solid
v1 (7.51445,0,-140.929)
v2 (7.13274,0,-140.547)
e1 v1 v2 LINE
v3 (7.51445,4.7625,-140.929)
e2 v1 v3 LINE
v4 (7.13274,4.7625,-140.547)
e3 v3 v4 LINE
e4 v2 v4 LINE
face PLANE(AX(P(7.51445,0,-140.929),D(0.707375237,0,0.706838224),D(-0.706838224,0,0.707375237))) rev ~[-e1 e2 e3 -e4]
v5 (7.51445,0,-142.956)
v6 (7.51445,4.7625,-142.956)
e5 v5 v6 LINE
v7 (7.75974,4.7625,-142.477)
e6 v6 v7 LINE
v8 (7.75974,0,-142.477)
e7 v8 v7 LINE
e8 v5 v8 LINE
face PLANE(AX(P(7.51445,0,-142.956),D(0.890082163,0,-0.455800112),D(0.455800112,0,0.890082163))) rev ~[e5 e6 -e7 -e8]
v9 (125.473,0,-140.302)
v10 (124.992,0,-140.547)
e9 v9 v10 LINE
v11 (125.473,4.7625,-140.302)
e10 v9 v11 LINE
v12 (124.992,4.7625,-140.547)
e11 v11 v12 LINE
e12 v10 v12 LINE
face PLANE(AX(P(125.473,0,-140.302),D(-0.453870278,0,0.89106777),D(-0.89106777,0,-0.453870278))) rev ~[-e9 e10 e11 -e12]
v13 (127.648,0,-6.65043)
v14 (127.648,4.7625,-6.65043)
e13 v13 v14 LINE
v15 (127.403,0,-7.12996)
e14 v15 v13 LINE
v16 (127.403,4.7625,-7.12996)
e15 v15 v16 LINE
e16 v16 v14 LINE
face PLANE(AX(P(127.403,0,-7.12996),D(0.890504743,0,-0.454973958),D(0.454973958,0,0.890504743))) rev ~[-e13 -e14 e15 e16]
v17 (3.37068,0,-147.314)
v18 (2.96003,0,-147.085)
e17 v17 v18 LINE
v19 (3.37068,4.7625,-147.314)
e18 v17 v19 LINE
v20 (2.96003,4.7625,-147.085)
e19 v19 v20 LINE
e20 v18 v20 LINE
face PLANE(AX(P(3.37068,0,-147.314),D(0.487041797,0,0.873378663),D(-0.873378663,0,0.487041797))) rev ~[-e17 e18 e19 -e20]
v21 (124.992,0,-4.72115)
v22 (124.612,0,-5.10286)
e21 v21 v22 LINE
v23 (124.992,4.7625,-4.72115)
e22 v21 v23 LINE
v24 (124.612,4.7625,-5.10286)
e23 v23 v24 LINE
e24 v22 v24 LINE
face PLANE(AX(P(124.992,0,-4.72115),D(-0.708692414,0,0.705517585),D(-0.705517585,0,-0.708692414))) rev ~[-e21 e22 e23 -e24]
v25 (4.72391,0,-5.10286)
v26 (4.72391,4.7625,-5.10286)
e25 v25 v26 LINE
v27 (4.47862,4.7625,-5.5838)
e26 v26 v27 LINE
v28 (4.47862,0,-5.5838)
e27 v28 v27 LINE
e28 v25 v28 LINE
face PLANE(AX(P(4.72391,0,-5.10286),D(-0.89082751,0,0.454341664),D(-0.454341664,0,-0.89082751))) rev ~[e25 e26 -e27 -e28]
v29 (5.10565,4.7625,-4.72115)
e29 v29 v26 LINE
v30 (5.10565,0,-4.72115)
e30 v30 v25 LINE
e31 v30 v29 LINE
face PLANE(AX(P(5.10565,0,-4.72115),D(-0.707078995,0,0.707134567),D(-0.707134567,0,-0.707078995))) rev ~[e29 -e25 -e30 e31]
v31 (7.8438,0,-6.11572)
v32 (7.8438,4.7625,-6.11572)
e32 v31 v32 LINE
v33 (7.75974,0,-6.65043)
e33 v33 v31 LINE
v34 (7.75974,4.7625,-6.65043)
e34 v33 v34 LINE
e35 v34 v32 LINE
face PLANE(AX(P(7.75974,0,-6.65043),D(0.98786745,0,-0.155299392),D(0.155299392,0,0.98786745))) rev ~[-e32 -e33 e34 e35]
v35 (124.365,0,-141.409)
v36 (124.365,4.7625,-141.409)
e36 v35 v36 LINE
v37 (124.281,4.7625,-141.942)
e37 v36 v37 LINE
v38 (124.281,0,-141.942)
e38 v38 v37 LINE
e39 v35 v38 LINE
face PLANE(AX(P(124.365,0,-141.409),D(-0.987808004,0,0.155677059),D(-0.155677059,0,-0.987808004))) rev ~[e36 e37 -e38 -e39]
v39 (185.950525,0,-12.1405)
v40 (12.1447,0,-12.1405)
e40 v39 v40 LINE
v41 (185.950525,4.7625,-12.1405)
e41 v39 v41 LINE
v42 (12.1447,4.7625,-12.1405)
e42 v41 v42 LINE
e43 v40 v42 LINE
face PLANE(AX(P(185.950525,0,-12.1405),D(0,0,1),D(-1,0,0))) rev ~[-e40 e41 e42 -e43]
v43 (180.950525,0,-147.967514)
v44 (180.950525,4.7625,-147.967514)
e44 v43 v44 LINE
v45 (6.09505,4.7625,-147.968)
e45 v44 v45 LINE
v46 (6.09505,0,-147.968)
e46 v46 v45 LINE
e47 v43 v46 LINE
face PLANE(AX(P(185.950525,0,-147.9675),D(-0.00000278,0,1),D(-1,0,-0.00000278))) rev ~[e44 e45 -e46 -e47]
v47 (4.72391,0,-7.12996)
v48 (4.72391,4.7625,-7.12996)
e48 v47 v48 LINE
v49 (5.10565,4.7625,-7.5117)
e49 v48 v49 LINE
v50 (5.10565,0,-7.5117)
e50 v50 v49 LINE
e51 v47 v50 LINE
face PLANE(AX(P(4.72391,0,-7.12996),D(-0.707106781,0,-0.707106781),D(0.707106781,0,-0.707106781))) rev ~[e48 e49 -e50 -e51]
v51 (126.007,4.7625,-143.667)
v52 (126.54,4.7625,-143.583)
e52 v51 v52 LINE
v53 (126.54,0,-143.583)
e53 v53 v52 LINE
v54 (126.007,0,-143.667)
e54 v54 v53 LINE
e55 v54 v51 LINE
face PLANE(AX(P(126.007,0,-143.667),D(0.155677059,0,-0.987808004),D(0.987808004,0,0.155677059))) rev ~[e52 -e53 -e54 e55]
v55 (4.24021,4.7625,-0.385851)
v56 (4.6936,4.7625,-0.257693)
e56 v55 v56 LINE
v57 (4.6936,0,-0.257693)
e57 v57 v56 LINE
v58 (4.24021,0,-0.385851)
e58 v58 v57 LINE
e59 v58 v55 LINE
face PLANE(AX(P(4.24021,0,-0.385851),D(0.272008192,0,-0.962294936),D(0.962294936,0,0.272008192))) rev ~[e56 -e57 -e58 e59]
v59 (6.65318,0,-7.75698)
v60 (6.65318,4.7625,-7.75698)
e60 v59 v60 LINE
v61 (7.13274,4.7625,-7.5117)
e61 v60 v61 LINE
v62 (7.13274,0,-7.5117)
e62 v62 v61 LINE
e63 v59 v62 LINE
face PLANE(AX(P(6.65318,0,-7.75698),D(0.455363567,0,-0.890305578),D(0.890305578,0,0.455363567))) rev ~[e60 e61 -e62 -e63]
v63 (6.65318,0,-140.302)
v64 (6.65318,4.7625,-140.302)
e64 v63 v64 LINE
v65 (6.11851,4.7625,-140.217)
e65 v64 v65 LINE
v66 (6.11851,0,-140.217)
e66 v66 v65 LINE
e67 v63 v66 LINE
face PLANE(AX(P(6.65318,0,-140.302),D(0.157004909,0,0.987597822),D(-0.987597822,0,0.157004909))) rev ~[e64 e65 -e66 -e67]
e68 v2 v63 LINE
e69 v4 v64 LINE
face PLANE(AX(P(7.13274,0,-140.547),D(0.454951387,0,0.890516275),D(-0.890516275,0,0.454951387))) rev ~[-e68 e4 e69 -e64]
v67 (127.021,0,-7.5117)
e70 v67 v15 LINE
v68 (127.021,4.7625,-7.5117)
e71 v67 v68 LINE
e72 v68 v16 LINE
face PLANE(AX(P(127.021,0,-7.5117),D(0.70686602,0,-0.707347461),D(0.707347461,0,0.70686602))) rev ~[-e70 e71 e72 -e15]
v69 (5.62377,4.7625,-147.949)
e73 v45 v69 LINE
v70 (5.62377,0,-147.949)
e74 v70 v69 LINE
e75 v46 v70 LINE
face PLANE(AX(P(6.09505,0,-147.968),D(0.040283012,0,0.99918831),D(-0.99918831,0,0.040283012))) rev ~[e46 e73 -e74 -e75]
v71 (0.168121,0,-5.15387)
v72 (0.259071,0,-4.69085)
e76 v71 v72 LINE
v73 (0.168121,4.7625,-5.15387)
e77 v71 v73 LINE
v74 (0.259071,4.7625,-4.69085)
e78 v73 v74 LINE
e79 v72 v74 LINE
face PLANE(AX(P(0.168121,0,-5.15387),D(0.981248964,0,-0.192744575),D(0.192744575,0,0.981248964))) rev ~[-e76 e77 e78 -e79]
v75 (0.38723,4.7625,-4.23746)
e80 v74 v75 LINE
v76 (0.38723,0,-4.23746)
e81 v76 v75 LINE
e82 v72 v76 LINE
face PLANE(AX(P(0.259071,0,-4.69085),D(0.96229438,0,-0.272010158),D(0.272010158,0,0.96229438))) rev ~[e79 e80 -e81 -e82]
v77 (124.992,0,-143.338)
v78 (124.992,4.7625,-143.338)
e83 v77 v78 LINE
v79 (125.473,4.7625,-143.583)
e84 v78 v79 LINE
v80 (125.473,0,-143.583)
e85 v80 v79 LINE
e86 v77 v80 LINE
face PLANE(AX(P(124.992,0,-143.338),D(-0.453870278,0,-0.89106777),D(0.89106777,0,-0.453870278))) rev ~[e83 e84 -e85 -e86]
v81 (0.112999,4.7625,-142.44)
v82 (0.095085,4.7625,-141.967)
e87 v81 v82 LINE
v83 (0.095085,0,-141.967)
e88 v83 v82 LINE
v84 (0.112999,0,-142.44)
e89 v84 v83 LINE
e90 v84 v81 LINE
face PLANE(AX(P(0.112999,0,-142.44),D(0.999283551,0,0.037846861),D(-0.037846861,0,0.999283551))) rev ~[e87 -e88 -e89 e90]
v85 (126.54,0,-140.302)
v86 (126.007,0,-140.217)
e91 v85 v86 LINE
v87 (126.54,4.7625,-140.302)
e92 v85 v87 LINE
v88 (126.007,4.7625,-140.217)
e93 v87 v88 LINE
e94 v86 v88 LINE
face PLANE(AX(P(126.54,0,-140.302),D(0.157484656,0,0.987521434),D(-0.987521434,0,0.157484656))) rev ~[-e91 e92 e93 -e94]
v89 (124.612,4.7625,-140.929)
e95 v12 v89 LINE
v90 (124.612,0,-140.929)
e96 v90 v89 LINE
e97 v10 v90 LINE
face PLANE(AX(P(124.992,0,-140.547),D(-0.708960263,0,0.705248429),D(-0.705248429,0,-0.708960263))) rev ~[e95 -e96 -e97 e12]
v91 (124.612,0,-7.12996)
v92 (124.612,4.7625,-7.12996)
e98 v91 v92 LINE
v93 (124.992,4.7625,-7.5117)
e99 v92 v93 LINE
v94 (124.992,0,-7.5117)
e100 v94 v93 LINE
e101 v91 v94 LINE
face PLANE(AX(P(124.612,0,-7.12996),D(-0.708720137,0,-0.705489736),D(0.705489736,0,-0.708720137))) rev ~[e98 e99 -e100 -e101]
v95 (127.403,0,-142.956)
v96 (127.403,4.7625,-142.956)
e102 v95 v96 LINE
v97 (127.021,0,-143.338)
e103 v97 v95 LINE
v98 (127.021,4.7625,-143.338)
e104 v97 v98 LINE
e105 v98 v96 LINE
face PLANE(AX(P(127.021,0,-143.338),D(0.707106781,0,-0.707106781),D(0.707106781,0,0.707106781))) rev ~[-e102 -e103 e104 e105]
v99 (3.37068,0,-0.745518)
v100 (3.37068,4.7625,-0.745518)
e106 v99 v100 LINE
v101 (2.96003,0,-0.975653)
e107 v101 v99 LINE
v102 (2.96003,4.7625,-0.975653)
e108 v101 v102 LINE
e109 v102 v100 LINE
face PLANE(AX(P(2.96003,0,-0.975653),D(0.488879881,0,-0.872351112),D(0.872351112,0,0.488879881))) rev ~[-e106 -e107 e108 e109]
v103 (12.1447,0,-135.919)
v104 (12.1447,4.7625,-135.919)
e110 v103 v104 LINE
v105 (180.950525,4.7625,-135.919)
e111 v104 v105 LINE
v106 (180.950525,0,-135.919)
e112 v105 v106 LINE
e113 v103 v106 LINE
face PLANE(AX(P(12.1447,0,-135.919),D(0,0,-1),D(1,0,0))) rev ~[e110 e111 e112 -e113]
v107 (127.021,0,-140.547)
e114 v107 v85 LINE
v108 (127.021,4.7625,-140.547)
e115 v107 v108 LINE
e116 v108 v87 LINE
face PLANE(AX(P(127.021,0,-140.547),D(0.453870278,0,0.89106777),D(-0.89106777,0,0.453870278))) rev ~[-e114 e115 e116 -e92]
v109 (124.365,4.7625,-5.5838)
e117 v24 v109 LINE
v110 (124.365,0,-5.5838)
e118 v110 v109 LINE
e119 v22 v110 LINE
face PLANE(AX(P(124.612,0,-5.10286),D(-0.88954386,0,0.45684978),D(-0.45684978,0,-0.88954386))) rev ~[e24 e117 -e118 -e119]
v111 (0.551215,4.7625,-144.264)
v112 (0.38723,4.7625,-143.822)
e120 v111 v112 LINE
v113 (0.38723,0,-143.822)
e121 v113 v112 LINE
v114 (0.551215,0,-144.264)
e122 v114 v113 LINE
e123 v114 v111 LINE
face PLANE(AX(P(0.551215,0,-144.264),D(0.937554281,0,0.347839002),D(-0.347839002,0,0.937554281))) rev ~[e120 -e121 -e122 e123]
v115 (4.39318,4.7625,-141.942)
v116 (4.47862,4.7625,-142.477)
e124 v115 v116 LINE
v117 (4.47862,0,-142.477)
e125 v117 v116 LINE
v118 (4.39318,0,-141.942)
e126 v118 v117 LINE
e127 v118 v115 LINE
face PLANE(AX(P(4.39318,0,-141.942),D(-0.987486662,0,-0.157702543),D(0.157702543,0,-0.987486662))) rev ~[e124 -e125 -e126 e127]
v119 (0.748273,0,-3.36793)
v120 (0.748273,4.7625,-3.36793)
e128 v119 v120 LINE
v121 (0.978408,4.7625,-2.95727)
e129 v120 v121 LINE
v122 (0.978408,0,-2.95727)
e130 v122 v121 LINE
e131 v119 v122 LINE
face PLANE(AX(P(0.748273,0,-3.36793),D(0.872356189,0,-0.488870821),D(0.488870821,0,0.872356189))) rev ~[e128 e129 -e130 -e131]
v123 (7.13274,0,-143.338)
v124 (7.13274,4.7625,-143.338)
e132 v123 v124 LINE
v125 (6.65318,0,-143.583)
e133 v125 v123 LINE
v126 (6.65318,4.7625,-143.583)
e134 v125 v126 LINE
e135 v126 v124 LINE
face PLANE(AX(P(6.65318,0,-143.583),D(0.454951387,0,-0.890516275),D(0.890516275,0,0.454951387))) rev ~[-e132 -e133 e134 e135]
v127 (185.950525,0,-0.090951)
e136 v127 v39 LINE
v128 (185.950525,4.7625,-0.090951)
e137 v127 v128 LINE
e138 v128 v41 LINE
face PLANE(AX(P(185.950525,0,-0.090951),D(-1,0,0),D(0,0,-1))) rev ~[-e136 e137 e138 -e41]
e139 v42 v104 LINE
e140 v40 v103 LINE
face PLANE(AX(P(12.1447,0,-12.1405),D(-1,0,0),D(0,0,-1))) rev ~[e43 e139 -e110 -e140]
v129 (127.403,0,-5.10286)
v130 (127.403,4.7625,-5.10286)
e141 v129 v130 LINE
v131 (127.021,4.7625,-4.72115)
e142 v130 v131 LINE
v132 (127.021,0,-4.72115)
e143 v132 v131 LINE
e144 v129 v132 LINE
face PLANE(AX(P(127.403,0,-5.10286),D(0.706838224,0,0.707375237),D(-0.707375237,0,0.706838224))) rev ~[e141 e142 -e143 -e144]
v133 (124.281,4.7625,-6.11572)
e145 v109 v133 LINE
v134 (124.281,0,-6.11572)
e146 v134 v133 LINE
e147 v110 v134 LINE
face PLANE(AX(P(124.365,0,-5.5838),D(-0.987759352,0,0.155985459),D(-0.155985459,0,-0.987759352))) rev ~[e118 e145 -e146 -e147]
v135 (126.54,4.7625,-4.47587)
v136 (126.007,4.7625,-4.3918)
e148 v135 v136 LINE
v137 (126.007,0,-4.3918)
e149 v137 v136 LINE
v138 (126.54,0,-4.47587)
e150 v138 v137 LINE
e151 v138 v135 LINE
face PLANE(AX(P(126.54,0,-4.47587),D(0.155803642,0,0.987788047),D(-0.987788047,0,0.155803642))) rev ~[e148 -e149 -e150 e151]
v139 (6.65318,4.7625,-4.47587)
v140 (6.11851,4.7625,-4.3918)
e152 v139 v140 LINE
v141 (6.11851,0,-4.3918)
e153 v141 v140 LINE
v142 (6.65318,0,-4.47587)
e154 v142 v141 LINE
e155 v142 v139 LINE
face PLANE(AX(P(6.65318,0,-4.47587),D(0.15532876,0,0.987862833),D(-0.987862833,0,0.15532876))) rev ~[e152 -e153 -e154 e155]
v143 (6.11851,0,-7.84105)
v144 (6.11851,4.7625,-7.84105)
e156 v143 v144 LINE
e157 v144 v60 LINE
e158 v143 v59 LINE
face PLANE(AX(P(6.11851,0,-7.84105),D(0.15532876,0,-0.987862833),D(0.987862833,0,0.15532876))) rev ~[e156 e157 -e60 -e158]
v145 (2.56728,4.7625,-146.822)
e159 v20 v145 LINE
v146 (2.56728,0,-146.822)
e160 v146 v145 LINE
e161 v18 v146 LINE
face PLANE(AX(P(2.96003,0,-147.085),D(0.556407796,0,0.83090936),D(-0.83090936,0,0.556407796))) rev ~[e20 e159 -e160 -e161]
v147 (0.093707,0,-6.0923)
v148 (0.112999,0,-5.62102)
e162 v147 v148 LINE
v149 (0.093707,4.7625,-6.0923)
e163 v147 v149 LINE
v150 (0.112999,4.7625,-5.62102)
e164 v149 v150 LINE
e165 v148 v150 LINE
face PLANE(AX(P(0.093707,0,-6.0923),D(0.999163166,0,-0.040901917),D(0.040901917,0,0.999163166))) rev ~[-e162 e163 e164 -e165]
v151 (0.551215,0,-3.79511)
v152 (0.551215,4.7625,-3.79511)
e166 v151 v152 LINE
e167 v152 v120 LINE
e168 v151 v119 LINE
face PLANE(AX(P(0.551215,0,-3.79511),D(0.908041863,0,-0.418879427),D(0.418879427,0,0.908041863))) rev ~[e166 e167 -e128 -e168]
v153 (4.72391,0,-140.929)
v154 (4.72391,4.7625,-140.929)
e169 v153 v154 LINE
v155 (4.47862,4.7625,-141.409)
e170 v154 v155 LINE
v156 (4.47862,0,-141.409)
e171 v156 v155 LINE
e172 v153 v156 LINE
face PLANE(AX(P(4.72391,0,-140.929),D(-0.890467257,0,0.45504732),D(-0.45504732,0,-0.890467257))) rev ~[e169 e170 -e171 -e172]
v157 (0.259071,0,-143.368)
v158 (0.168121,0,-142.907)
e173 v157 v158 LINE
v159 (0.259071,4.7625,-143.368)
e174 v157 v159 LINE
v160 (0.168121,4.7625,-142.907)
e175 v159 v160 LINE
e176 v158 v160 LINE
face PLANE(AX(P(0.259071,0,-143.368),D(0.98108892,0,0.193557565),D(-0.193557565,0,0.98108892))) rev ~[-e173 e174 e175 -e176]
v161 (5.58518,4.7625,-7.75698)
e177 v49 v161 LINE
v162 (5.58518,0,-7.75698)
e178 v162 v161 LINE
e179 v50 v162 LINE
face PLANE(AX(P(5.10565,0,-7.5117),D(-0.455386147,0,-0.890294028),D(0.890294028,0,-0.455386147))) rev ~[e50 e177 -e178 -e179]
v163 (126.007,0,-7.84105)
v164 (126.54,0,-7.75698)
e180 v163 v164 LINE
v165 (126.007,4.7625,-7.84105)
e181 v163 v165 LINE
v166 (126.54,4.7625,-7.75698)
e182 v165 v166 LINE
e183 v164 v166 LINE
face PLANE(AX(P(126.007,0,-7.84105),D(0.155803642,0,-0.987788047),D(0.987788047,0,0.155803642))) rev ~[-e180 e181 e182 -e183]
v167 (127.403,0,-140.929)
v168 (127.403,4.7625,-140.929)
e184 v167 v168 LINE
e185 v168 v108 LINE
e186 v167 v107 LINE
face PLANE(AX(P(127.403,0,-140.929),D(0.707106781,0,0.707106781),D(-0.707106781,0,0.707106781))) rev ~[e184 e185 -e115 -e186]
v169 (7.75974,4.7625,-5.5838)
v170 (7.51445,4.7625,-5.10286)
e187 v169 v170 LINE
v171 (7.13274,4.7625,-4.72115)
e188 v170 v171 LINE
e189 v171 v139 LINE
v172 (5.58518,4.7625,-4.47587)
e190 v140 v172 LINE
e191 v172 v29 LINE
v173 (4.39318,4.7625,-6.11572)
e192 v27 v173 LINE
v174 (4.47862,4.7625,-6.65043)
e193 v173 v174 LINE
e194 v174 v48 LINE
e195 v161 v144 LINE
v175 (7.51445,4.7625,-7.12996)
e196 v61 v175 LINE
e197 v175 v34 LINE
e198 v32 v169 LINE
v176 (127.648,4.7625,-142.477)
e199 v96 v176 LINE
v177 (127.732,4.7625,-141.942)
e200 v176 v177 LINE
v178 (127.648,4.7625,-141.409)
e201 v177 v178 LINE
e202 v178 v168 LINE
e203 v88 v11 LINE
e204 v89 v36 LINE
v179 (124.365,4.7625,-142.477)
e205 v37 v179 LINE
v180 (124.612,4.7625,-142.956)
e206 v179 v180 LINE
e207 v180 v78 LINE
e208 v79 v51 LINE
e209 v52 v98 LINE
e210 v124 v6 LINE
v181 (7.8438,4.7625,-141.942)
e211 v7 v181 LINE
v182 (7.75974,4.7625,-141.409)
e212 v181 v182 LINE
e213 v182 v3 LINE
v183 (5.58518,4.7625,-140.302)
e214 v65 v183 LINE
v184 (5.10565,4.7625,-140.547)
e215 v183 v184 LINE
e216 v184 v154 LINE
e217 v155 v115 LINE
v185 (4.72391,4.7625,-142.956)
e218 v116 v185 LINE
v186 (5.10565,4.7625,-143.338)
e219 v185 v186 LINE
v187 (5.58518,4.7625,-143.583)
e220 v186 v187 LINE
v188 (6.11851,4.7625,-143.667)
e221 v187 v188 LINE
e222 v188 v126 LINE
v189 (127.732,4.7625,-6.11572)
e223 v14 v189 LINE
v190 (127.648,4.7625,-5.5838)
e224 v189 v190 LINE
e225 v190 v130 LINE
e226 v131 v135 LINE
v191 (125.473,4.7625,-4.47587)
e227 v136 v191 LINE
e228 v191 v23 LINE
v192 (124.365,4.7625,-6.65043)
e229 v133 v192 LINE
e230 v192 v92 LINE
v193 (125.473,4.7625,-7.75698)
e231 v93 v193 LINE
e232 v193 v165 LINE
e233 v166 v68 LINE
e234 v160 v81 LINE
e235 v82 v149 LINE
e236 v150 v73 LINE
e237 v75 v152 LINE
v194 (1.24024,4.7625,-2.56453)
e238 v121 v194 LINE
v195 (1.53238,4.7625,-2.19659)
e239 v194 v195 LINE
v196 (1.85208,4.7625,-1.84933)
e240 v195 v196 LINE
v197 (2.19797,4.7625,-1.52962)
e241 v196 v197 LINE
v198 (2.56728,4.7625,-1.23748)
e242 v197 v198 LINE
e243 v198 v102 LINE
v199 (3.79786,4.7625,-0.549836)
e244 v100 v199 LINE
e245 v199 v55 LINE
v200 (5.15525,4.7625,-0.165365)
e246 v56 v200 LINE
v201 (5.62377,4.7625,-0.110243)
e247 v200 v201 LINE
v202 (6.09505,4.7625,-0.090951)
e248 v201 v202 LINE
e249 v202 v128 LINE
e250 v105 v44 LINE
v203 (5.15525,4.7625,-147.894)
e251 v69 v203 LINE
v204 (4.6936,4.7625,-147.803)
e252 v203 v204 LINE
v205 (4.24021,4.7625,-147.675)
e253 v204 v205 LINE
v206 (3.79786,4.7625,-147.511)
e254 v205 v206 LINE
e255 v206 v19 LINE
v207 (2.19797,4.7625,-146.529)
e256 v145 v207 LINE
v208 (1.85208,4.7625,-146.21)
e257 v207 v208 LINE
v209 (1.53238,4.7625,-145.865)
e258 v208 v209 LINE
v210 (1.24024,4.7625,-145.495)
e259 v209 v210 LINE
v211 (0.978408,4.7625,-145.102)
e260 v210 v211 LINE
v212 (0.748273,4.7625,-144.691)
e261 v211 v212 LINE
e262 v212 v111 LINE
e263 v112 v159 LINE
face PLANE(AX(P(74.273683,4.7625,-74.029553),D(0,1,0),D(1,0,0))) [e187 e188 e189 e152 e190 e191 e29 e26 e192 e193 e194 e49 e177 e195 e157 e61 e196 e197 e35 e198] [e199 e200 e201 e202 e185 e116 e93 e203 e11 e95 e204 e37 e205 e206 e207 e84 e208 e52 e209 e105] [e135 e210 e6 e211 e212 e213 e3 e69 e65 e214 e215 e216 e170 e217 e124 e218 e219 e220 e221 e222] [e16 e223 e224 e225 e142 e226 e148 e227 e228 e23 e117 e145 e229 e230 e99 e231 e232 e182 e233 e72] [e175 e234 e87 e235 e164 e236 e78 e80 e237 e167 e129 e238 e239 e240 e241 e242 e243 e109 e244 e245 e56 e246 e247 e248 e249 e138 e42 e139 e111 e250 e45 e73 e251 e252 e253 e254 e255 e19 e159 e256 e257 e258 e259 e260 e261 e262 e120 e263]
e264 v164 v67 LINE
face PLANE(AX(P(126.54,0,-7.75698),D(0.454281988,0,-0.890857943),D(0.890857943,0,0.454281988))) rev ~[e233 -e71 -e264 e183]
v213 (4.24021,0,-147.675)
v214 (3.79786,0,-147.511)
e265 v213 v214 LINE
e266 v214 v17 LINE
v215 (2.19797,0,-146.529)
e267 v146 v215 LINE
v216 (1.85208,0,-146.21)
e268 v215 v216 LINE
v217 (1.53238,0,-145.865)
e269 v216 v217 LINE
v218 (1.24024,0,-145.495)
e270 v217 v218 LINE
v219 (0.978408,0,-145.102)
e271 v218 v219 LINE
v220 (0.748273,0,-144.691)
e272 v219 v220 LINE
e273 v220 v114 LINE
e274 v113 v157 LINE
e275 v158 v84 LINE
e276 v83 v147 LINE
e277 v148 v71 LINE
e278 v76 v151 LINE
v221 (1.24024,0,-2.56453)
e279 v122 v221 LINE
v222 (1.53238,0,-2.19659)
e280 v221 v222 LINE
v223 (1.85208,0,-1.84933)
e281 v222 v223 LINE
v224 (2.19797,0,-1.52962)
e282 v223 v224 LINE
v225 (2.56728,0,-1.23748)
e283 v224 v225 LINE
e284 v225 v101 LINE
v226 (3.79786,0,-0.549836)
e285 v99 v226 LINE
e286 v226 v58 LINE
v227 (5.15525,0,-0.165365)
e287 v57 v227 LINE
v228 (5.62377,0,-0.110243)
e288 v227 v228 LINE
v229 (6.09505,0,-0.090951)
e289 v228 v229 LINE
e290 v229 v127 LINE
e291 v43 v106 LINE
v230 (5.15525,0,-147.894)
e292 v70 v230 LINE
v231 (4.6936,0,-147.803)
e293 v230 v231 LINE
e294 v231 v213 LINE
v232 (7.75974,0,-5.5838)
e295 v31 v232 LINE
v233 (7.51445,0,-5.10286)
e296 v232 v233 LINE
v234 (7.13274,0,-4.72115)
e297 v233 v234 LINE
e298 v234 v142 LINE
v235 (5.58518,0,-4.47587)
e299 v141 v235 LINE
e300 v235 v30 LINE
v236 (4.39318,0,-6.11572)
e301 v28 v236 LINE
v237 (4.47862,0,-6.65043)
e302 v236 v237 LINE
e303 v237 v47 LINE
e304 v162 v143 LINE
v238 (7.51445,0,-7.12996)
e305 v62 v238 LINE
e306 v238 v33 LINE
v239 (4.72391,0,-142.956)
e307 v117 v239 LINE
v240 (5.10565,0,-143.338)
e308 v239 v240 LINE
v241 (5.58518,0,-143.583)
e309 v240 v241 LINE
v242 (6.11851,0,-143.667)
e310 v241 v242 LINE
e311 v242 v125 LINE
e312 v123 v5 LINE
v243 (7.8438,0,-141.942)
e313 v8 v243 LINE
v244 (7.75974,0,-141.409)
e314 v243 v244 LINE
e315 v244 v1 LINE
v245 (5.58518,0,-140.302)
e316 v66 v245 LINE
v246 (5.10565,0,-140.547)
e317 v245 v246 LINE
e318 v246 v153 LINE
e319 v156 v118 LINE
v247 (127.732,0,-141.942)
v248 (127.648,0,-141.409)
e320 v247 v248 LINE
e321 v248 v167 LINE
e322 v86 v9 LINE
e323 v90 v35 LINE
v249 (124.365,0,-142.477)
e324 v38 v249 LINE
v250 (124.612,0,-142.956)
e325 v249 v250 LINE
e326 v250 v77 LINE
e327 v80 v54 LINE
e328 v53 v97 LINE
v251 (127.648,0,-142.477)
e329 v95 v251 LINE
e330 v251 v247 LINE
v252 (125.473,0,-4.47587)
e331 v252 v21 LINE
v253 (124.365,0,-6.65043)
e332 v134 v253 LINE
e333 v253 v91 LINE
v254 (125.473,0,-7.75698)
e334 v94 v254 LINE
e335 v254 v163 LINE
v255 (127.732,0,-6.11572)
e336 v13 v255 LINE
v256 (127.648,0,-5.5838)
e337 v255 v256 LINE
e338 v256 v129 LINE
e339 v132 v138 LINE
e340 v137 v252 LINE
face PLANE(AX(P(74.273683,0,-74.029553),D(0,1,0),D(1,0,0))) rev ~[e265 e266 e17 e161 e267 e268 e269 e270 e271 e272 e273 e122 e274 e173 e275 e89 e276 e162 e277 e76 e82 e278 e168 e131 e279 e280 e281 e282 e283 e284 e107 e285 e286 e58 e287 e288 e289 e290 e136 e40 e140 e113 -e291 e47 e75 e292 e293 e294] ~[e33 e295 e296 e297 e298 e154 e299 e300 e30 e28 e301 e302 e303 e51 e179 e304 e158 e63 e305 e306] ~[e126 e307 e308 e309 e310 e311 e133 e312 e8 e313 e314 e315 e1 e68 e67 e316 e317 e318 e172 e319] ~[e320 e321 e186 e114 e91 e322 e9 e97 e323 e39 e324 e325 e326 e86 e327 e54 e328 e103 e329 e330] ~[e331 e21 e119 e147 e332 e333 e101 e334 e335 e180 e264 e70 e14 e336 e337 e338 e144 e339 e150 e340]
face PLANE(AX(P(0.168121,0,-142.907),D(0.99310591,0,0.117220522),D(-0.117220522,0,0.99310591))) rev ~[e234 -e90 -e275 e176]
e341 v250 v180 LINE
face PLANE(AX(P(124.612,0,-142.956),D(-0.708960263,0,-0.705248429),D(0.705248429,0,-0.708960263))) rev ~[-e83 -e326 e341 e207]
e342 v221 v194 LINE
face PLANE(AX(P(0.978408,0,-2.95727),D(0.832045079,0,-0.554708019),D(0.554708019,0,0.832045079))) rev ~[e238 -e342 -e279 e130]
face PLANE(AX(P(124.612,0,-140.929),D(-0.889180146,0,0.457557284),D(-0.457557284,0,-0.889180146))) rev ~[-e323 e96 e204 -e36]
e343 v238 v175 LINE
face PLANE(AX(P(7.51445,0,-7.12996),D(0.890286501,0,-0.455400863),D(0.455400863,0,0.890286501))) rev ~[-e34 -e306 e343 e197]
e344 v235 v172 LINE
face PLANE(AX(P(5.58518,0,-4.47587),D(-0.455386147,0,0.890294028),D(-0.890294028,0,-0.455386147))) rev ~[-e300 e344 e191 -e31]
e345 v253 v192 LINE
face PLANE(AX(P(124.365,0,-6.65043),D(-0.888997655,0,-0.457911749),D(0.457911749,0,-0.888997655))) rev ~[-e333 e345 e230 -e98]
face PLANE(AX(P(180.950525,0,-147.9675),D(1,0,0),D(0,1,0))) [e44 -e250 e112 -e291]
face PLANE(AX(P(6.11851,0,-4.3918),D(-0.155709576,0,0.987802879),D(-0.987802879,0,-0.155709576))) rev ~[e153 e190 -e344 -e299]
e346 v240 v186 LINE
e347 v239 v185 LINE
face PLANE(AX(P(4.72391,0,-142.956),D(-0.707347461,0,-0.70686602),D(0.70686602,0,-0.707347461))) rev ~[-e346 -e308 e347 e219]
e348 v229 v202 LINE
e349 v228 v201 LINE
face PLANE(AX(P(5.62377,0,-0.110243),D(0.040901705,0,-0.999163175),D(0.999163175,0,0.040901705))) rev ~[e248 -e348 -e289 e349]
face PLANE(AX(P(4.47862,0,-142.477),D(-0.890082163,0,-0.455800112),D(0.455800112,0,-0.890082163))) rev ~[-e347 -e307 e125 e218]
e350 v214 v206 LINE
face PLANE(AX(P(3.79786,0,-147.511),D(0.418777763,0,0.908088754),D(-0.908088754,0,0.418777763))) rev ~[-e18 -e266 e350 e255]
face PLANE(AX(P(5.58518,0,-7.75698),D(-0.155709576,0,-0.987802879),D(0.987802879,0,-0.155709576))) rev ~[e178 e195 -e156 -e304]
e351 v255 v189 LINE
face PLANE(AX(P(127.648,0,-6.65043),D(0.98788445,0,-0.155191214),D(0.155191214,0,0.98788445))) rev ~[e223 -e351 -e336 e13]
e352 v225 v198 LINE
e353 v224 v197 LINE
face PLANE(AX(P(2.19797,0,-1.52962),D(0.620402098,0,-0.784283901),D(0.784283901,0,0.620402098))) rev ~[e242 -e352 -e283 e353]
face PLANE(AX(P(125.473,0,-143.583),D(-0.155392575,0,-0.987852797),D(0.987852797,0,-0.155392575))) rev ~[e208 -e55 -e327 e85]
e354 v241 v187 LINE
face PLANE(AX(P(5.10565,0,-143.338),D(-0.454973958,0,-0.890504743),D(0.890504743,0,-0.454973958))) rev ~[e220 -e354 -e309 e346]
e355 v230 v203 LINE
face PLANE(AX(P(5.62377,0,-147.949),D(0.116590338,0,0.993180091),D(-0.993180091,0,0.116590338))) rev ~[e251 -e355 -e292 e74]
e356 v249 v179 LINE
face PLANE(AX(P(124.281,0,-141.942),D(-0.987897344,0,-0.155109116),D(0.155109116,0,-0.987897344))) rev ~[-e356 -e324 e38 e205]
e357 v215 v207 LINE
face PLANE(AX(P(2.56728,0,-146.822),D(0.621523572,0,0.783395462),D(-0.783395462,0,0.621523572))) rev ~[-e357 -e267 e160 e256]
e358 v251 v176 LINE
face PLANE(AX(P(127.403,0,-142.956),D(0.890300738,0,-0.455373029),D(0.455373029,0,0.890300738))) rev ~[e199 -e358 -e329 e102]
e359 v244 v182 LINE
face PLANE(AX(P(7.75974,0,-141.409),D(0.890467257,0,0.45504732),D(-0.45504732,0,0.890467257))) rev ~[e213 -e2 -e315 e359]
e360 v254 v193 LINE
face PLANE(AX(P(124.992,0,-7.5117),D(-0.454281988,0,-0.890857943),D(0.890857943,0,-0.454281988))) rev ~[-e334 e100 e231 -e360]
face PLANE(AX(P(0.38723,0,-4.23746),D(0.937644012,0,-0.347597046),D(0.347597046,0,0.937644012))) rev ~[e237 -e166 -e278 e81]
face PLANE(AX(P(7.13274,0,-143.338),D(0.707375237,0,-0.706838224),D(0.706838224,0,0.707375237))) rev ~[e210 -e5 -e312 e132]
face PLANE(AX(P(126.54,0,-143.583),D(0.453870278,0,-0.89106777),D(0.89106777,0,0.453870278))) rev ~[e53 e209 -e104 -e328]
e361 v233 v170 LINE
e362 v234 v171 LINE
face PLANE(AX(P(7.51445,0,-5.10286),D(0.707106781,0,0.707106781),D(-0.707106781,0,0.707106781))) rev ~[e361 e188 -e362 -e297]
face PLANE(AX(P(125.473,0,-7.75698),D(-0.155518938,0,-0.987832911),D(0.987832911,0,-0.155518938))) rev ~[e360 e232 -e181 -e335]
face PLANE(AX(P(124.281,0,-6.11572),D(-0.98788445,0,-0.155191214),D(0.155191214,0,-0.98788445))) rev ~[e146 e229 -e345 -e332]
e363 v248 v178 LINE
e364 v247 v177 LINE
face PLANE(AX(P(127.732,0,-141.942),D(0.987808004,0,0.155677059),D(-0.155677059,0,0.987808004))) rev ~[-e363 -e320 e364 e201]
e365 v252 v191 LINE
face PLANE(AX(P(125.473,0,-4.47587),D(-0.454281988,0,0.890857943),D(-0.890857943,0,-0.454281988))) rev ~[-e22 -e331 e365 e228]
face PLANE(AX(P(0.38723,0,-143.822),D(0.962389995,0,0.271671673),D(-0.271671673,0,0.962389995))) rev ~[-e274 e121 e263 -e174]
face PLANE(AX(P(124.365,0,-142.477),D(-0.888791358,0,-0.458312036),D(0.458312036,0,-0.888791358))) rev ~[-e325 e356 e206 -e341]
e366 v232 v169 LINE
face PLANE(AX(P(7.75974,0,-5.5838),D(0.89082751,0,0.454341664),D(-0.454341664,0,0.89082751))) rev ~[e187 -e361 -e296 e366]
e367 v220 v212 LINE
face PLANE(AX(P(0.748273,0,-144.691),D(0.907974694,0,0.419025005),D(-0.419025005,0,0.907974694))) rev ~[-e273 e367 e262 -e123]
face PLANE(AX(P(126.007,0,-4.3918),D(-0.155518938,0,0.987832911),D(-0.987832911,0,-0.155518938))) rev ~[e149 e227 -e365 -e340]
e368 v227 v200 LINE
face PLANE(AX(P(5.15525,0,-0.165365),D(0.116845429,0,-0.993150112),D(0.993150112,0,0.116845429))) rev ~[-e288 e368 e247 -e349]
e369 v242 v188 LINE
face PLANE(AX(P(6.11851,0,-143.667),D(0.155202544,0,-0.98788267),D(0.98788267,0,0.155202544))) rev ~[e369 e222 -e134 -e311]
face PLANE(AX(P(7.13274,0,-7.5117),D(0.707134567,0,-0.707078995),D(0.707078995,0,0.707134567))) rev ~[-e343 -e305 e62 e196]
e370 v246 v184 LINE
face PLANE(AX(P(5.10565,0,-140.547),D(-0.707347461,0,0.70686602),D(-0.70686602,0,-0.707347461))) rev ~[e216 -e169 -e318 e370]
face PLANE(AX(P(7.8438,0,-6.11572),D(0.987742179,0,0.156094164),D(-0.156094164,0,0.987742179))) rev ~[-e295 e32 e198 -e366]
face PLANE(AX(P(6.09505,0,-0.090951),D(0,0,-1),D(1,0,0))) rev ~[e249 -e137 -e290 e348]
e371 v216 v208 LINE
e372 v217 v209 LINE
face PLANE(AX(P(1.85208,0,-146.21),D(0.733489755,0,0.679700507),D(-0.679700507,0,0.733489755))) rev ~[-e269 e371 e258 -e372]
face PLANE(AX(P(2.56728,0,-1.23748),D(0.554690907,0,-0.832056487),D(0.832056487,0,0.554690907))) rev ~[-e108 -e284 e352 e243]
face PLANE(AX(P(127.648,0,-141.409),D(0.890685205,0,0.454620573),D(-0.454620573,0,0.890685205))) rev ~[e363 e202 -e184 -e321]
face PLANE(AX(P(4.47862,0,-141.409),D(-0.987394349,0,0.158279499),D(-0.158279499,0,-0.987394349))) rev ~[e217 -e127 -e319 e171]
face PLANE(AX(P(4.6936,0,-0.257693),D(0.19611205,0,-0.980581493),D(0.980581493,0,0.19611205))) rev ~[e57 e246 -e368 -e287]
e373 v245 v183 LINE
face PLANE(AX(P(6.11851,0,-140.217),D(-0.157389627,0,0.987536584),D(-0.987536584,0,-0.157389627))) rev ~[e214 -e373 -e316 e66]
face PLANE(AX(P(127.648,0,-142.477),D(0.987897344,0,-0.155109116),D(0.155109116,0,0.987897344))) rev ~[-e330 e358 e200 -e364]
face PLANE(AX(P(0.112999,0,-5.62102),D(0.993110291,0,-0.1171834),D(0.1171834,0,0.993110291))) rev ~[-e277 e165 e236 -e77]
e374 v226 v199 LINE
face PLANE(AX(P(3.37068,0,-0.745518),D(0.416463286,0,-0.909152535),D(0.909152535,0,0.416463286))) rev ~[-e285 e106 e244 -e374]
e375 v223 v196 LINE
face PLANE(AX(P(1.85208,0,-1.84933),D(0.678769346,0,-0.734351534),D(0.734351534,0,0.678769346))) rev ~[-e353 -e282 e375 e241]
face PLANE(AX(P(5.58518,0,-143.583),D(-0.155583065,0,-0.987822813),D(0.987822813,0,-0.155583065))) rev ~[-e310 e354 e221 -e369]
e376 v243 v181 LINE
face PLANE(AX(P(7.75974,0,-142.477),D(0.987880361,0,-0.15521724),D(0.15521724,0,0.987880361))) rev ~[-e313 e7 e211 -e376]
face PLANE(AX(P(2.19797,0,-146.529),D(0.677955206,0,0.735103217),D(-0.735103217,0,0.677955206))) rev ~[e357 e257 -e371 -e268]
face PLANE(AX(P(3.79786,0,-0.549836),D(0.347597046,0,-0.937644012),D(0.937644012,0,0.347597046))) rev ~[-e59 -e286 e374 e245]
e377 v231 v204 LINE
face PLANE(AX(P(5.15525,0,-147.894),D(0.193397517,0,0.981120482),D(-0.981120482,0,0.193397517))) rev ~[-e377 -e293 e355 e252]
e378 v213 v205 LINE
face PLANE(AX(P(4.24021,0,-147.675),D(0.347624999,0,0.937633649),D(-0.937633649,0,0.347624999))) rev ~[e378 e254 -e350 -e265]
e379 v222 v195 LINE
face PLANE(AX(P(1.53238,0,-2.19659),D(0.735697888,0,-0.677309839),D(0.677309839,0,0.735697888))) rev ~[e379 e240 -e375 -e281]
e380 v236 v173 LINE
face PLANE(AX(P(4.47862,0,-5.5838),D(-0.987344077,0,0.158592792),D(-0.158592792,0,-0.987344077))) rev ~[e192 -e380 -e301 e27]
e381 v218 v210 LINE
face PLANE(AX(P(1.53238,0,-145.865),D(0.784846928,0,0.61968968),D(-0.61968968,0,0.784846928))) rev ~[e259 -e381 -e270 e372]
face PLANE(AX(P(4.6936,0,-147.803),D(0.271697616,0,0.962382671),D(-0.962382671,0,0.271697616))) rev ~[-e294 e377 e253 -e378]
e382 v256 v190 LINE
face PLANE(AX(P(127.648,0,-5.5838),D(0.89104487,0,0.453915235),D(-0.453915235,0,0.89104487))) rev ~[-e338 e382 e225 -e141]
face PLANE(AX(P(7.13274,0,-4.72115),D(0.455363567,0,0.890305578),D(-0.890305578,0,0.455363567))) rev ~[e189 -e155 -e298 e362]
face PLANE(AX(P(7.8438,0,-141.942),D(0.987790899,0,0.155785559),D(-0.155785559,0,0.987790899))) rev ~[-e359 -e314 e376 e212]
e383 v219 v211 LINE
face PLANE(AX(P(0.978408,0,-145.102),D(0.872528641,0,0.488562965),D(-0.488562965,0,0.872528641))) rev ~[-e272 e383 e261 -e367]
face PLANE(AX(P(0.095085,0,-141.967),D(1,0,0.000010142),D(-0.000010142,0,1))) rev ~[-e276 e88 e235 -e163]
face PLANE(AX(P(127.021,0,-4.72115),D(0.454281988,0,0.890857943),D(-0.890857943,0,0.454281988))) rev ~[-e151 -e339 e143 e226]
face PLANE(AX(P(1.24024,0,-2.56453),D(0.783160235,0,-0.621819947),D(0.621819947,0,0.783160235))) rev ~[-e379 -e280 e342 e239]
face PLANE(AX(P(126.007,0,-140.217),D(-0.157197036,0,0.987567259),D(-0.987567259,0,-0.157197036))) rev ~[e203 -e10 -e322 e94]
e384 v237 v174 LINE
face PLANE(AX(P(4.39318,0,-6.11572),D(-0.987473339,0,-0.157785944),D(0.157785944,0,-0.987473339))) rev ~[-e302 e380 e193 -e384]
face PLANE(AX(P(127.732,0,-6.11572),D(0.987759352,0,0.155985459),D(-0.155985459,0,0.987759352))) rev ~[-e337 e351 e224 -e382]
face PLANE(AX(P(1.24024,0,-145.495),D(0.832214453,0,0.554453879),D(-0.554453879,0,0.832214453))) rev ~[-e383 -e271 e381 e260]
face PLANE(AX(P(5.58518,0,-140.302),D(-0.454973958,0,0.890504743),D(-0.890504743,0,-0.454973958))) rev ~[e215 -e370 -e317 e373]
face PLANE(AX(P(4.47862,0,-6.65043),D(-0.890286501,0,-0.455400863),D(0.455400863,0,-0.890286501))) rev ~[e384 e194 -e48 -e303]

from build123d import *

# Parameters (mm, degrees)
BOSS_EXTRUDE2_DEPTH = 4.7625
CUT_EXTRUDE2_DEPTH  = 4.7625
SKETCH3_W           = 5
SKETCH3_H           = 4.7625
CUT_EXTRUDE3_DEPTH  = 4.7625


with BuildPart() as part:
    # Sketch1 → Boss-Extrude2 (new body)
    with BuildSketch(Plane(origin=(0, 0, 0), x_dir=(1, 0, 0), z_dir=(0, 1, 0))):
        Polygon((185.950525, 135.919), (185.950525, 147.9675), (6.09505, 147.968), (5.62377, 147.949), (5.15525, 147.894), (4.6936, 147.803), (4.24021, 147.675), (3.79786, 147.511), (3.37068, 147.314), (2.96003, 147.085), (2.56728, 146.822), (2.19797, 146.529), (1.85208, 146.21), (1.53238, 145.865), (1.24024, 145.495), (0.978408, 145.102), (0.748273, 144.691), (0.551215, 144.264), (0.38723, 143.822), (0.259071, 143.368), (0.168121, 142.907), (0.112999, 142.44), (0.0950846, 141.967), (0.0937066, 6.0923), (0.112999, 5.62102), (0.168121, 5.15387), (0.259071, 4.69085), (0.38723, 4.23746), (0.551215, 3.79511), (0.748273, 3.36793), (0.978408, 2.95727), (1.24024, 2.56453), (1.53238, 2.19659), (1.85208, 1.84933), (2.19797, 1.52962), (2.56728, 1.23748), (2.96003, 0.975653), (3.37068, 0.745518), (3.79786, 0.549836), (4.24021, 0.385851), (4.6936, 0.257693), (5.15525, 0.165365), (5.62377, 0.110243), (6.09505, 0.0909507), (185.950525, 0.0909507), (185.950525, 12.1405), (12.1447, 12.1405), (12.1447, 135.919), align=None)
        Polygon((5.10565, 7.5117), (5.58518, 7.75698), (6.11851, 7.84105), (6.65318, 7.75698), (7.13274, 7.5117), (7.51445, 7.12996), (7.75974, 6.65043), (7.8438, 6.11572), (7.75974, 5.5838), (7.51445, 5.10286), (7.13274, 4.72115), (6.65318, 4.47587), (6.11851, 4.3918), (5.58518, 4.47587), (5.10565, 4.72115), (4.72391, 5.10286), (4.47862, 5.5838), (4.39318, 6.11572), (4.47862, 6.65043), (4.72391, 7.12996), align=None, mode=Mode.SUBTRACT)
        Polygon((124.992, 7.5117), (125.473, 7.75698), (126.007, 7.84105), (126.54, 7.75698), (127.021, 7.5117), (127.403, 7.12996), (127.648, 6.65043), (127.732, 6.11572), (127.648, 5.5838), (127.403, 5.10286), (127.021, 4.72115), (126.54, 4.47587), (126.007, 4.3918), (125.473, 4.47587), (124.992, 4.72115), (124.612, 5.10286), (124.365, 5.5838), (124.281, 6.11572), (124.365, 6.65043), (124.612, 7.12996), align=None, mode=Mode.SUBTRACT)
        Polygon((5.10565, 143.338), (5.58518, 143.583), (6.11851, 143.667), (6.65318, 143.583), (7.13274, 143.338), (7.51445, 142.956), (7.75974, 142.477), (7.8438, 141.942), (7.75974, 141.409), (7.51445, 140.929), (7.13274, 140.547), (6.65318, 140.302), (6.11851, 140.217), (5.58518, 140.302), (5.10565, 140.547), (4.72391, 140.929), (4.47862, 141.409), (4.39318, 141.942), (4.47862, 142.477), (4.72391, 142.956), align=None, mode=Mode.SUBTRACT)
        Polygon((124.992, 143.338), (125.473, 143.583), (126.007, 143.667), (126.54, 143.583), (127.021, 143.338), (127.403, 142.956), (127.648, 142.477), (127.732, 141.942), (127.648, 141.409), (127.403, 140.929), (127.021, 140.547), (126.54, 140.302), (126.007, 140.217), (125.473, 140.302), (124.992, 140.547), (124.612, 140.929), (124.365, 141.409), (124.281, 141.942), (124.365, 142.477), (124.612, 142.956), align=None, mode=Mode.SUBTRACT)
    extrude(amount=BOSS_EXTRUDE2_DEPTH)

    # Sketch2 → Cut-Extrude2 (cut)
    with BuildSketch(Plane(origin=(0, 4.7625, 0), x_dir=(1, 0, 0), z_dir=(0, 1, 0))):
        Polygon((180.950525, 141.94325), (180.950525, 147.9675), (185.950525, 147.9675), (185.950525, 141.94325), (185.950525, 135.919), (180.950525, 135.919), align=None)
    extrude(amount=-CUT_EXTRUDE2_DEPTH, mode=Mode.SUBTRACT)

    # Sketch3 → Cut-Extrude3 (cut)
    with BuildSketch(Plane.XY.offset(-147.9675)):
        with Locations((183.450525, 2.38125)):
            Rectangle(SKETCH3_W, SKETCH3_H)
    extrude(amount=-CUT_EXTRUDE3_DEPTH, mode=Mode.SUBTRACT)


solid = part.part
